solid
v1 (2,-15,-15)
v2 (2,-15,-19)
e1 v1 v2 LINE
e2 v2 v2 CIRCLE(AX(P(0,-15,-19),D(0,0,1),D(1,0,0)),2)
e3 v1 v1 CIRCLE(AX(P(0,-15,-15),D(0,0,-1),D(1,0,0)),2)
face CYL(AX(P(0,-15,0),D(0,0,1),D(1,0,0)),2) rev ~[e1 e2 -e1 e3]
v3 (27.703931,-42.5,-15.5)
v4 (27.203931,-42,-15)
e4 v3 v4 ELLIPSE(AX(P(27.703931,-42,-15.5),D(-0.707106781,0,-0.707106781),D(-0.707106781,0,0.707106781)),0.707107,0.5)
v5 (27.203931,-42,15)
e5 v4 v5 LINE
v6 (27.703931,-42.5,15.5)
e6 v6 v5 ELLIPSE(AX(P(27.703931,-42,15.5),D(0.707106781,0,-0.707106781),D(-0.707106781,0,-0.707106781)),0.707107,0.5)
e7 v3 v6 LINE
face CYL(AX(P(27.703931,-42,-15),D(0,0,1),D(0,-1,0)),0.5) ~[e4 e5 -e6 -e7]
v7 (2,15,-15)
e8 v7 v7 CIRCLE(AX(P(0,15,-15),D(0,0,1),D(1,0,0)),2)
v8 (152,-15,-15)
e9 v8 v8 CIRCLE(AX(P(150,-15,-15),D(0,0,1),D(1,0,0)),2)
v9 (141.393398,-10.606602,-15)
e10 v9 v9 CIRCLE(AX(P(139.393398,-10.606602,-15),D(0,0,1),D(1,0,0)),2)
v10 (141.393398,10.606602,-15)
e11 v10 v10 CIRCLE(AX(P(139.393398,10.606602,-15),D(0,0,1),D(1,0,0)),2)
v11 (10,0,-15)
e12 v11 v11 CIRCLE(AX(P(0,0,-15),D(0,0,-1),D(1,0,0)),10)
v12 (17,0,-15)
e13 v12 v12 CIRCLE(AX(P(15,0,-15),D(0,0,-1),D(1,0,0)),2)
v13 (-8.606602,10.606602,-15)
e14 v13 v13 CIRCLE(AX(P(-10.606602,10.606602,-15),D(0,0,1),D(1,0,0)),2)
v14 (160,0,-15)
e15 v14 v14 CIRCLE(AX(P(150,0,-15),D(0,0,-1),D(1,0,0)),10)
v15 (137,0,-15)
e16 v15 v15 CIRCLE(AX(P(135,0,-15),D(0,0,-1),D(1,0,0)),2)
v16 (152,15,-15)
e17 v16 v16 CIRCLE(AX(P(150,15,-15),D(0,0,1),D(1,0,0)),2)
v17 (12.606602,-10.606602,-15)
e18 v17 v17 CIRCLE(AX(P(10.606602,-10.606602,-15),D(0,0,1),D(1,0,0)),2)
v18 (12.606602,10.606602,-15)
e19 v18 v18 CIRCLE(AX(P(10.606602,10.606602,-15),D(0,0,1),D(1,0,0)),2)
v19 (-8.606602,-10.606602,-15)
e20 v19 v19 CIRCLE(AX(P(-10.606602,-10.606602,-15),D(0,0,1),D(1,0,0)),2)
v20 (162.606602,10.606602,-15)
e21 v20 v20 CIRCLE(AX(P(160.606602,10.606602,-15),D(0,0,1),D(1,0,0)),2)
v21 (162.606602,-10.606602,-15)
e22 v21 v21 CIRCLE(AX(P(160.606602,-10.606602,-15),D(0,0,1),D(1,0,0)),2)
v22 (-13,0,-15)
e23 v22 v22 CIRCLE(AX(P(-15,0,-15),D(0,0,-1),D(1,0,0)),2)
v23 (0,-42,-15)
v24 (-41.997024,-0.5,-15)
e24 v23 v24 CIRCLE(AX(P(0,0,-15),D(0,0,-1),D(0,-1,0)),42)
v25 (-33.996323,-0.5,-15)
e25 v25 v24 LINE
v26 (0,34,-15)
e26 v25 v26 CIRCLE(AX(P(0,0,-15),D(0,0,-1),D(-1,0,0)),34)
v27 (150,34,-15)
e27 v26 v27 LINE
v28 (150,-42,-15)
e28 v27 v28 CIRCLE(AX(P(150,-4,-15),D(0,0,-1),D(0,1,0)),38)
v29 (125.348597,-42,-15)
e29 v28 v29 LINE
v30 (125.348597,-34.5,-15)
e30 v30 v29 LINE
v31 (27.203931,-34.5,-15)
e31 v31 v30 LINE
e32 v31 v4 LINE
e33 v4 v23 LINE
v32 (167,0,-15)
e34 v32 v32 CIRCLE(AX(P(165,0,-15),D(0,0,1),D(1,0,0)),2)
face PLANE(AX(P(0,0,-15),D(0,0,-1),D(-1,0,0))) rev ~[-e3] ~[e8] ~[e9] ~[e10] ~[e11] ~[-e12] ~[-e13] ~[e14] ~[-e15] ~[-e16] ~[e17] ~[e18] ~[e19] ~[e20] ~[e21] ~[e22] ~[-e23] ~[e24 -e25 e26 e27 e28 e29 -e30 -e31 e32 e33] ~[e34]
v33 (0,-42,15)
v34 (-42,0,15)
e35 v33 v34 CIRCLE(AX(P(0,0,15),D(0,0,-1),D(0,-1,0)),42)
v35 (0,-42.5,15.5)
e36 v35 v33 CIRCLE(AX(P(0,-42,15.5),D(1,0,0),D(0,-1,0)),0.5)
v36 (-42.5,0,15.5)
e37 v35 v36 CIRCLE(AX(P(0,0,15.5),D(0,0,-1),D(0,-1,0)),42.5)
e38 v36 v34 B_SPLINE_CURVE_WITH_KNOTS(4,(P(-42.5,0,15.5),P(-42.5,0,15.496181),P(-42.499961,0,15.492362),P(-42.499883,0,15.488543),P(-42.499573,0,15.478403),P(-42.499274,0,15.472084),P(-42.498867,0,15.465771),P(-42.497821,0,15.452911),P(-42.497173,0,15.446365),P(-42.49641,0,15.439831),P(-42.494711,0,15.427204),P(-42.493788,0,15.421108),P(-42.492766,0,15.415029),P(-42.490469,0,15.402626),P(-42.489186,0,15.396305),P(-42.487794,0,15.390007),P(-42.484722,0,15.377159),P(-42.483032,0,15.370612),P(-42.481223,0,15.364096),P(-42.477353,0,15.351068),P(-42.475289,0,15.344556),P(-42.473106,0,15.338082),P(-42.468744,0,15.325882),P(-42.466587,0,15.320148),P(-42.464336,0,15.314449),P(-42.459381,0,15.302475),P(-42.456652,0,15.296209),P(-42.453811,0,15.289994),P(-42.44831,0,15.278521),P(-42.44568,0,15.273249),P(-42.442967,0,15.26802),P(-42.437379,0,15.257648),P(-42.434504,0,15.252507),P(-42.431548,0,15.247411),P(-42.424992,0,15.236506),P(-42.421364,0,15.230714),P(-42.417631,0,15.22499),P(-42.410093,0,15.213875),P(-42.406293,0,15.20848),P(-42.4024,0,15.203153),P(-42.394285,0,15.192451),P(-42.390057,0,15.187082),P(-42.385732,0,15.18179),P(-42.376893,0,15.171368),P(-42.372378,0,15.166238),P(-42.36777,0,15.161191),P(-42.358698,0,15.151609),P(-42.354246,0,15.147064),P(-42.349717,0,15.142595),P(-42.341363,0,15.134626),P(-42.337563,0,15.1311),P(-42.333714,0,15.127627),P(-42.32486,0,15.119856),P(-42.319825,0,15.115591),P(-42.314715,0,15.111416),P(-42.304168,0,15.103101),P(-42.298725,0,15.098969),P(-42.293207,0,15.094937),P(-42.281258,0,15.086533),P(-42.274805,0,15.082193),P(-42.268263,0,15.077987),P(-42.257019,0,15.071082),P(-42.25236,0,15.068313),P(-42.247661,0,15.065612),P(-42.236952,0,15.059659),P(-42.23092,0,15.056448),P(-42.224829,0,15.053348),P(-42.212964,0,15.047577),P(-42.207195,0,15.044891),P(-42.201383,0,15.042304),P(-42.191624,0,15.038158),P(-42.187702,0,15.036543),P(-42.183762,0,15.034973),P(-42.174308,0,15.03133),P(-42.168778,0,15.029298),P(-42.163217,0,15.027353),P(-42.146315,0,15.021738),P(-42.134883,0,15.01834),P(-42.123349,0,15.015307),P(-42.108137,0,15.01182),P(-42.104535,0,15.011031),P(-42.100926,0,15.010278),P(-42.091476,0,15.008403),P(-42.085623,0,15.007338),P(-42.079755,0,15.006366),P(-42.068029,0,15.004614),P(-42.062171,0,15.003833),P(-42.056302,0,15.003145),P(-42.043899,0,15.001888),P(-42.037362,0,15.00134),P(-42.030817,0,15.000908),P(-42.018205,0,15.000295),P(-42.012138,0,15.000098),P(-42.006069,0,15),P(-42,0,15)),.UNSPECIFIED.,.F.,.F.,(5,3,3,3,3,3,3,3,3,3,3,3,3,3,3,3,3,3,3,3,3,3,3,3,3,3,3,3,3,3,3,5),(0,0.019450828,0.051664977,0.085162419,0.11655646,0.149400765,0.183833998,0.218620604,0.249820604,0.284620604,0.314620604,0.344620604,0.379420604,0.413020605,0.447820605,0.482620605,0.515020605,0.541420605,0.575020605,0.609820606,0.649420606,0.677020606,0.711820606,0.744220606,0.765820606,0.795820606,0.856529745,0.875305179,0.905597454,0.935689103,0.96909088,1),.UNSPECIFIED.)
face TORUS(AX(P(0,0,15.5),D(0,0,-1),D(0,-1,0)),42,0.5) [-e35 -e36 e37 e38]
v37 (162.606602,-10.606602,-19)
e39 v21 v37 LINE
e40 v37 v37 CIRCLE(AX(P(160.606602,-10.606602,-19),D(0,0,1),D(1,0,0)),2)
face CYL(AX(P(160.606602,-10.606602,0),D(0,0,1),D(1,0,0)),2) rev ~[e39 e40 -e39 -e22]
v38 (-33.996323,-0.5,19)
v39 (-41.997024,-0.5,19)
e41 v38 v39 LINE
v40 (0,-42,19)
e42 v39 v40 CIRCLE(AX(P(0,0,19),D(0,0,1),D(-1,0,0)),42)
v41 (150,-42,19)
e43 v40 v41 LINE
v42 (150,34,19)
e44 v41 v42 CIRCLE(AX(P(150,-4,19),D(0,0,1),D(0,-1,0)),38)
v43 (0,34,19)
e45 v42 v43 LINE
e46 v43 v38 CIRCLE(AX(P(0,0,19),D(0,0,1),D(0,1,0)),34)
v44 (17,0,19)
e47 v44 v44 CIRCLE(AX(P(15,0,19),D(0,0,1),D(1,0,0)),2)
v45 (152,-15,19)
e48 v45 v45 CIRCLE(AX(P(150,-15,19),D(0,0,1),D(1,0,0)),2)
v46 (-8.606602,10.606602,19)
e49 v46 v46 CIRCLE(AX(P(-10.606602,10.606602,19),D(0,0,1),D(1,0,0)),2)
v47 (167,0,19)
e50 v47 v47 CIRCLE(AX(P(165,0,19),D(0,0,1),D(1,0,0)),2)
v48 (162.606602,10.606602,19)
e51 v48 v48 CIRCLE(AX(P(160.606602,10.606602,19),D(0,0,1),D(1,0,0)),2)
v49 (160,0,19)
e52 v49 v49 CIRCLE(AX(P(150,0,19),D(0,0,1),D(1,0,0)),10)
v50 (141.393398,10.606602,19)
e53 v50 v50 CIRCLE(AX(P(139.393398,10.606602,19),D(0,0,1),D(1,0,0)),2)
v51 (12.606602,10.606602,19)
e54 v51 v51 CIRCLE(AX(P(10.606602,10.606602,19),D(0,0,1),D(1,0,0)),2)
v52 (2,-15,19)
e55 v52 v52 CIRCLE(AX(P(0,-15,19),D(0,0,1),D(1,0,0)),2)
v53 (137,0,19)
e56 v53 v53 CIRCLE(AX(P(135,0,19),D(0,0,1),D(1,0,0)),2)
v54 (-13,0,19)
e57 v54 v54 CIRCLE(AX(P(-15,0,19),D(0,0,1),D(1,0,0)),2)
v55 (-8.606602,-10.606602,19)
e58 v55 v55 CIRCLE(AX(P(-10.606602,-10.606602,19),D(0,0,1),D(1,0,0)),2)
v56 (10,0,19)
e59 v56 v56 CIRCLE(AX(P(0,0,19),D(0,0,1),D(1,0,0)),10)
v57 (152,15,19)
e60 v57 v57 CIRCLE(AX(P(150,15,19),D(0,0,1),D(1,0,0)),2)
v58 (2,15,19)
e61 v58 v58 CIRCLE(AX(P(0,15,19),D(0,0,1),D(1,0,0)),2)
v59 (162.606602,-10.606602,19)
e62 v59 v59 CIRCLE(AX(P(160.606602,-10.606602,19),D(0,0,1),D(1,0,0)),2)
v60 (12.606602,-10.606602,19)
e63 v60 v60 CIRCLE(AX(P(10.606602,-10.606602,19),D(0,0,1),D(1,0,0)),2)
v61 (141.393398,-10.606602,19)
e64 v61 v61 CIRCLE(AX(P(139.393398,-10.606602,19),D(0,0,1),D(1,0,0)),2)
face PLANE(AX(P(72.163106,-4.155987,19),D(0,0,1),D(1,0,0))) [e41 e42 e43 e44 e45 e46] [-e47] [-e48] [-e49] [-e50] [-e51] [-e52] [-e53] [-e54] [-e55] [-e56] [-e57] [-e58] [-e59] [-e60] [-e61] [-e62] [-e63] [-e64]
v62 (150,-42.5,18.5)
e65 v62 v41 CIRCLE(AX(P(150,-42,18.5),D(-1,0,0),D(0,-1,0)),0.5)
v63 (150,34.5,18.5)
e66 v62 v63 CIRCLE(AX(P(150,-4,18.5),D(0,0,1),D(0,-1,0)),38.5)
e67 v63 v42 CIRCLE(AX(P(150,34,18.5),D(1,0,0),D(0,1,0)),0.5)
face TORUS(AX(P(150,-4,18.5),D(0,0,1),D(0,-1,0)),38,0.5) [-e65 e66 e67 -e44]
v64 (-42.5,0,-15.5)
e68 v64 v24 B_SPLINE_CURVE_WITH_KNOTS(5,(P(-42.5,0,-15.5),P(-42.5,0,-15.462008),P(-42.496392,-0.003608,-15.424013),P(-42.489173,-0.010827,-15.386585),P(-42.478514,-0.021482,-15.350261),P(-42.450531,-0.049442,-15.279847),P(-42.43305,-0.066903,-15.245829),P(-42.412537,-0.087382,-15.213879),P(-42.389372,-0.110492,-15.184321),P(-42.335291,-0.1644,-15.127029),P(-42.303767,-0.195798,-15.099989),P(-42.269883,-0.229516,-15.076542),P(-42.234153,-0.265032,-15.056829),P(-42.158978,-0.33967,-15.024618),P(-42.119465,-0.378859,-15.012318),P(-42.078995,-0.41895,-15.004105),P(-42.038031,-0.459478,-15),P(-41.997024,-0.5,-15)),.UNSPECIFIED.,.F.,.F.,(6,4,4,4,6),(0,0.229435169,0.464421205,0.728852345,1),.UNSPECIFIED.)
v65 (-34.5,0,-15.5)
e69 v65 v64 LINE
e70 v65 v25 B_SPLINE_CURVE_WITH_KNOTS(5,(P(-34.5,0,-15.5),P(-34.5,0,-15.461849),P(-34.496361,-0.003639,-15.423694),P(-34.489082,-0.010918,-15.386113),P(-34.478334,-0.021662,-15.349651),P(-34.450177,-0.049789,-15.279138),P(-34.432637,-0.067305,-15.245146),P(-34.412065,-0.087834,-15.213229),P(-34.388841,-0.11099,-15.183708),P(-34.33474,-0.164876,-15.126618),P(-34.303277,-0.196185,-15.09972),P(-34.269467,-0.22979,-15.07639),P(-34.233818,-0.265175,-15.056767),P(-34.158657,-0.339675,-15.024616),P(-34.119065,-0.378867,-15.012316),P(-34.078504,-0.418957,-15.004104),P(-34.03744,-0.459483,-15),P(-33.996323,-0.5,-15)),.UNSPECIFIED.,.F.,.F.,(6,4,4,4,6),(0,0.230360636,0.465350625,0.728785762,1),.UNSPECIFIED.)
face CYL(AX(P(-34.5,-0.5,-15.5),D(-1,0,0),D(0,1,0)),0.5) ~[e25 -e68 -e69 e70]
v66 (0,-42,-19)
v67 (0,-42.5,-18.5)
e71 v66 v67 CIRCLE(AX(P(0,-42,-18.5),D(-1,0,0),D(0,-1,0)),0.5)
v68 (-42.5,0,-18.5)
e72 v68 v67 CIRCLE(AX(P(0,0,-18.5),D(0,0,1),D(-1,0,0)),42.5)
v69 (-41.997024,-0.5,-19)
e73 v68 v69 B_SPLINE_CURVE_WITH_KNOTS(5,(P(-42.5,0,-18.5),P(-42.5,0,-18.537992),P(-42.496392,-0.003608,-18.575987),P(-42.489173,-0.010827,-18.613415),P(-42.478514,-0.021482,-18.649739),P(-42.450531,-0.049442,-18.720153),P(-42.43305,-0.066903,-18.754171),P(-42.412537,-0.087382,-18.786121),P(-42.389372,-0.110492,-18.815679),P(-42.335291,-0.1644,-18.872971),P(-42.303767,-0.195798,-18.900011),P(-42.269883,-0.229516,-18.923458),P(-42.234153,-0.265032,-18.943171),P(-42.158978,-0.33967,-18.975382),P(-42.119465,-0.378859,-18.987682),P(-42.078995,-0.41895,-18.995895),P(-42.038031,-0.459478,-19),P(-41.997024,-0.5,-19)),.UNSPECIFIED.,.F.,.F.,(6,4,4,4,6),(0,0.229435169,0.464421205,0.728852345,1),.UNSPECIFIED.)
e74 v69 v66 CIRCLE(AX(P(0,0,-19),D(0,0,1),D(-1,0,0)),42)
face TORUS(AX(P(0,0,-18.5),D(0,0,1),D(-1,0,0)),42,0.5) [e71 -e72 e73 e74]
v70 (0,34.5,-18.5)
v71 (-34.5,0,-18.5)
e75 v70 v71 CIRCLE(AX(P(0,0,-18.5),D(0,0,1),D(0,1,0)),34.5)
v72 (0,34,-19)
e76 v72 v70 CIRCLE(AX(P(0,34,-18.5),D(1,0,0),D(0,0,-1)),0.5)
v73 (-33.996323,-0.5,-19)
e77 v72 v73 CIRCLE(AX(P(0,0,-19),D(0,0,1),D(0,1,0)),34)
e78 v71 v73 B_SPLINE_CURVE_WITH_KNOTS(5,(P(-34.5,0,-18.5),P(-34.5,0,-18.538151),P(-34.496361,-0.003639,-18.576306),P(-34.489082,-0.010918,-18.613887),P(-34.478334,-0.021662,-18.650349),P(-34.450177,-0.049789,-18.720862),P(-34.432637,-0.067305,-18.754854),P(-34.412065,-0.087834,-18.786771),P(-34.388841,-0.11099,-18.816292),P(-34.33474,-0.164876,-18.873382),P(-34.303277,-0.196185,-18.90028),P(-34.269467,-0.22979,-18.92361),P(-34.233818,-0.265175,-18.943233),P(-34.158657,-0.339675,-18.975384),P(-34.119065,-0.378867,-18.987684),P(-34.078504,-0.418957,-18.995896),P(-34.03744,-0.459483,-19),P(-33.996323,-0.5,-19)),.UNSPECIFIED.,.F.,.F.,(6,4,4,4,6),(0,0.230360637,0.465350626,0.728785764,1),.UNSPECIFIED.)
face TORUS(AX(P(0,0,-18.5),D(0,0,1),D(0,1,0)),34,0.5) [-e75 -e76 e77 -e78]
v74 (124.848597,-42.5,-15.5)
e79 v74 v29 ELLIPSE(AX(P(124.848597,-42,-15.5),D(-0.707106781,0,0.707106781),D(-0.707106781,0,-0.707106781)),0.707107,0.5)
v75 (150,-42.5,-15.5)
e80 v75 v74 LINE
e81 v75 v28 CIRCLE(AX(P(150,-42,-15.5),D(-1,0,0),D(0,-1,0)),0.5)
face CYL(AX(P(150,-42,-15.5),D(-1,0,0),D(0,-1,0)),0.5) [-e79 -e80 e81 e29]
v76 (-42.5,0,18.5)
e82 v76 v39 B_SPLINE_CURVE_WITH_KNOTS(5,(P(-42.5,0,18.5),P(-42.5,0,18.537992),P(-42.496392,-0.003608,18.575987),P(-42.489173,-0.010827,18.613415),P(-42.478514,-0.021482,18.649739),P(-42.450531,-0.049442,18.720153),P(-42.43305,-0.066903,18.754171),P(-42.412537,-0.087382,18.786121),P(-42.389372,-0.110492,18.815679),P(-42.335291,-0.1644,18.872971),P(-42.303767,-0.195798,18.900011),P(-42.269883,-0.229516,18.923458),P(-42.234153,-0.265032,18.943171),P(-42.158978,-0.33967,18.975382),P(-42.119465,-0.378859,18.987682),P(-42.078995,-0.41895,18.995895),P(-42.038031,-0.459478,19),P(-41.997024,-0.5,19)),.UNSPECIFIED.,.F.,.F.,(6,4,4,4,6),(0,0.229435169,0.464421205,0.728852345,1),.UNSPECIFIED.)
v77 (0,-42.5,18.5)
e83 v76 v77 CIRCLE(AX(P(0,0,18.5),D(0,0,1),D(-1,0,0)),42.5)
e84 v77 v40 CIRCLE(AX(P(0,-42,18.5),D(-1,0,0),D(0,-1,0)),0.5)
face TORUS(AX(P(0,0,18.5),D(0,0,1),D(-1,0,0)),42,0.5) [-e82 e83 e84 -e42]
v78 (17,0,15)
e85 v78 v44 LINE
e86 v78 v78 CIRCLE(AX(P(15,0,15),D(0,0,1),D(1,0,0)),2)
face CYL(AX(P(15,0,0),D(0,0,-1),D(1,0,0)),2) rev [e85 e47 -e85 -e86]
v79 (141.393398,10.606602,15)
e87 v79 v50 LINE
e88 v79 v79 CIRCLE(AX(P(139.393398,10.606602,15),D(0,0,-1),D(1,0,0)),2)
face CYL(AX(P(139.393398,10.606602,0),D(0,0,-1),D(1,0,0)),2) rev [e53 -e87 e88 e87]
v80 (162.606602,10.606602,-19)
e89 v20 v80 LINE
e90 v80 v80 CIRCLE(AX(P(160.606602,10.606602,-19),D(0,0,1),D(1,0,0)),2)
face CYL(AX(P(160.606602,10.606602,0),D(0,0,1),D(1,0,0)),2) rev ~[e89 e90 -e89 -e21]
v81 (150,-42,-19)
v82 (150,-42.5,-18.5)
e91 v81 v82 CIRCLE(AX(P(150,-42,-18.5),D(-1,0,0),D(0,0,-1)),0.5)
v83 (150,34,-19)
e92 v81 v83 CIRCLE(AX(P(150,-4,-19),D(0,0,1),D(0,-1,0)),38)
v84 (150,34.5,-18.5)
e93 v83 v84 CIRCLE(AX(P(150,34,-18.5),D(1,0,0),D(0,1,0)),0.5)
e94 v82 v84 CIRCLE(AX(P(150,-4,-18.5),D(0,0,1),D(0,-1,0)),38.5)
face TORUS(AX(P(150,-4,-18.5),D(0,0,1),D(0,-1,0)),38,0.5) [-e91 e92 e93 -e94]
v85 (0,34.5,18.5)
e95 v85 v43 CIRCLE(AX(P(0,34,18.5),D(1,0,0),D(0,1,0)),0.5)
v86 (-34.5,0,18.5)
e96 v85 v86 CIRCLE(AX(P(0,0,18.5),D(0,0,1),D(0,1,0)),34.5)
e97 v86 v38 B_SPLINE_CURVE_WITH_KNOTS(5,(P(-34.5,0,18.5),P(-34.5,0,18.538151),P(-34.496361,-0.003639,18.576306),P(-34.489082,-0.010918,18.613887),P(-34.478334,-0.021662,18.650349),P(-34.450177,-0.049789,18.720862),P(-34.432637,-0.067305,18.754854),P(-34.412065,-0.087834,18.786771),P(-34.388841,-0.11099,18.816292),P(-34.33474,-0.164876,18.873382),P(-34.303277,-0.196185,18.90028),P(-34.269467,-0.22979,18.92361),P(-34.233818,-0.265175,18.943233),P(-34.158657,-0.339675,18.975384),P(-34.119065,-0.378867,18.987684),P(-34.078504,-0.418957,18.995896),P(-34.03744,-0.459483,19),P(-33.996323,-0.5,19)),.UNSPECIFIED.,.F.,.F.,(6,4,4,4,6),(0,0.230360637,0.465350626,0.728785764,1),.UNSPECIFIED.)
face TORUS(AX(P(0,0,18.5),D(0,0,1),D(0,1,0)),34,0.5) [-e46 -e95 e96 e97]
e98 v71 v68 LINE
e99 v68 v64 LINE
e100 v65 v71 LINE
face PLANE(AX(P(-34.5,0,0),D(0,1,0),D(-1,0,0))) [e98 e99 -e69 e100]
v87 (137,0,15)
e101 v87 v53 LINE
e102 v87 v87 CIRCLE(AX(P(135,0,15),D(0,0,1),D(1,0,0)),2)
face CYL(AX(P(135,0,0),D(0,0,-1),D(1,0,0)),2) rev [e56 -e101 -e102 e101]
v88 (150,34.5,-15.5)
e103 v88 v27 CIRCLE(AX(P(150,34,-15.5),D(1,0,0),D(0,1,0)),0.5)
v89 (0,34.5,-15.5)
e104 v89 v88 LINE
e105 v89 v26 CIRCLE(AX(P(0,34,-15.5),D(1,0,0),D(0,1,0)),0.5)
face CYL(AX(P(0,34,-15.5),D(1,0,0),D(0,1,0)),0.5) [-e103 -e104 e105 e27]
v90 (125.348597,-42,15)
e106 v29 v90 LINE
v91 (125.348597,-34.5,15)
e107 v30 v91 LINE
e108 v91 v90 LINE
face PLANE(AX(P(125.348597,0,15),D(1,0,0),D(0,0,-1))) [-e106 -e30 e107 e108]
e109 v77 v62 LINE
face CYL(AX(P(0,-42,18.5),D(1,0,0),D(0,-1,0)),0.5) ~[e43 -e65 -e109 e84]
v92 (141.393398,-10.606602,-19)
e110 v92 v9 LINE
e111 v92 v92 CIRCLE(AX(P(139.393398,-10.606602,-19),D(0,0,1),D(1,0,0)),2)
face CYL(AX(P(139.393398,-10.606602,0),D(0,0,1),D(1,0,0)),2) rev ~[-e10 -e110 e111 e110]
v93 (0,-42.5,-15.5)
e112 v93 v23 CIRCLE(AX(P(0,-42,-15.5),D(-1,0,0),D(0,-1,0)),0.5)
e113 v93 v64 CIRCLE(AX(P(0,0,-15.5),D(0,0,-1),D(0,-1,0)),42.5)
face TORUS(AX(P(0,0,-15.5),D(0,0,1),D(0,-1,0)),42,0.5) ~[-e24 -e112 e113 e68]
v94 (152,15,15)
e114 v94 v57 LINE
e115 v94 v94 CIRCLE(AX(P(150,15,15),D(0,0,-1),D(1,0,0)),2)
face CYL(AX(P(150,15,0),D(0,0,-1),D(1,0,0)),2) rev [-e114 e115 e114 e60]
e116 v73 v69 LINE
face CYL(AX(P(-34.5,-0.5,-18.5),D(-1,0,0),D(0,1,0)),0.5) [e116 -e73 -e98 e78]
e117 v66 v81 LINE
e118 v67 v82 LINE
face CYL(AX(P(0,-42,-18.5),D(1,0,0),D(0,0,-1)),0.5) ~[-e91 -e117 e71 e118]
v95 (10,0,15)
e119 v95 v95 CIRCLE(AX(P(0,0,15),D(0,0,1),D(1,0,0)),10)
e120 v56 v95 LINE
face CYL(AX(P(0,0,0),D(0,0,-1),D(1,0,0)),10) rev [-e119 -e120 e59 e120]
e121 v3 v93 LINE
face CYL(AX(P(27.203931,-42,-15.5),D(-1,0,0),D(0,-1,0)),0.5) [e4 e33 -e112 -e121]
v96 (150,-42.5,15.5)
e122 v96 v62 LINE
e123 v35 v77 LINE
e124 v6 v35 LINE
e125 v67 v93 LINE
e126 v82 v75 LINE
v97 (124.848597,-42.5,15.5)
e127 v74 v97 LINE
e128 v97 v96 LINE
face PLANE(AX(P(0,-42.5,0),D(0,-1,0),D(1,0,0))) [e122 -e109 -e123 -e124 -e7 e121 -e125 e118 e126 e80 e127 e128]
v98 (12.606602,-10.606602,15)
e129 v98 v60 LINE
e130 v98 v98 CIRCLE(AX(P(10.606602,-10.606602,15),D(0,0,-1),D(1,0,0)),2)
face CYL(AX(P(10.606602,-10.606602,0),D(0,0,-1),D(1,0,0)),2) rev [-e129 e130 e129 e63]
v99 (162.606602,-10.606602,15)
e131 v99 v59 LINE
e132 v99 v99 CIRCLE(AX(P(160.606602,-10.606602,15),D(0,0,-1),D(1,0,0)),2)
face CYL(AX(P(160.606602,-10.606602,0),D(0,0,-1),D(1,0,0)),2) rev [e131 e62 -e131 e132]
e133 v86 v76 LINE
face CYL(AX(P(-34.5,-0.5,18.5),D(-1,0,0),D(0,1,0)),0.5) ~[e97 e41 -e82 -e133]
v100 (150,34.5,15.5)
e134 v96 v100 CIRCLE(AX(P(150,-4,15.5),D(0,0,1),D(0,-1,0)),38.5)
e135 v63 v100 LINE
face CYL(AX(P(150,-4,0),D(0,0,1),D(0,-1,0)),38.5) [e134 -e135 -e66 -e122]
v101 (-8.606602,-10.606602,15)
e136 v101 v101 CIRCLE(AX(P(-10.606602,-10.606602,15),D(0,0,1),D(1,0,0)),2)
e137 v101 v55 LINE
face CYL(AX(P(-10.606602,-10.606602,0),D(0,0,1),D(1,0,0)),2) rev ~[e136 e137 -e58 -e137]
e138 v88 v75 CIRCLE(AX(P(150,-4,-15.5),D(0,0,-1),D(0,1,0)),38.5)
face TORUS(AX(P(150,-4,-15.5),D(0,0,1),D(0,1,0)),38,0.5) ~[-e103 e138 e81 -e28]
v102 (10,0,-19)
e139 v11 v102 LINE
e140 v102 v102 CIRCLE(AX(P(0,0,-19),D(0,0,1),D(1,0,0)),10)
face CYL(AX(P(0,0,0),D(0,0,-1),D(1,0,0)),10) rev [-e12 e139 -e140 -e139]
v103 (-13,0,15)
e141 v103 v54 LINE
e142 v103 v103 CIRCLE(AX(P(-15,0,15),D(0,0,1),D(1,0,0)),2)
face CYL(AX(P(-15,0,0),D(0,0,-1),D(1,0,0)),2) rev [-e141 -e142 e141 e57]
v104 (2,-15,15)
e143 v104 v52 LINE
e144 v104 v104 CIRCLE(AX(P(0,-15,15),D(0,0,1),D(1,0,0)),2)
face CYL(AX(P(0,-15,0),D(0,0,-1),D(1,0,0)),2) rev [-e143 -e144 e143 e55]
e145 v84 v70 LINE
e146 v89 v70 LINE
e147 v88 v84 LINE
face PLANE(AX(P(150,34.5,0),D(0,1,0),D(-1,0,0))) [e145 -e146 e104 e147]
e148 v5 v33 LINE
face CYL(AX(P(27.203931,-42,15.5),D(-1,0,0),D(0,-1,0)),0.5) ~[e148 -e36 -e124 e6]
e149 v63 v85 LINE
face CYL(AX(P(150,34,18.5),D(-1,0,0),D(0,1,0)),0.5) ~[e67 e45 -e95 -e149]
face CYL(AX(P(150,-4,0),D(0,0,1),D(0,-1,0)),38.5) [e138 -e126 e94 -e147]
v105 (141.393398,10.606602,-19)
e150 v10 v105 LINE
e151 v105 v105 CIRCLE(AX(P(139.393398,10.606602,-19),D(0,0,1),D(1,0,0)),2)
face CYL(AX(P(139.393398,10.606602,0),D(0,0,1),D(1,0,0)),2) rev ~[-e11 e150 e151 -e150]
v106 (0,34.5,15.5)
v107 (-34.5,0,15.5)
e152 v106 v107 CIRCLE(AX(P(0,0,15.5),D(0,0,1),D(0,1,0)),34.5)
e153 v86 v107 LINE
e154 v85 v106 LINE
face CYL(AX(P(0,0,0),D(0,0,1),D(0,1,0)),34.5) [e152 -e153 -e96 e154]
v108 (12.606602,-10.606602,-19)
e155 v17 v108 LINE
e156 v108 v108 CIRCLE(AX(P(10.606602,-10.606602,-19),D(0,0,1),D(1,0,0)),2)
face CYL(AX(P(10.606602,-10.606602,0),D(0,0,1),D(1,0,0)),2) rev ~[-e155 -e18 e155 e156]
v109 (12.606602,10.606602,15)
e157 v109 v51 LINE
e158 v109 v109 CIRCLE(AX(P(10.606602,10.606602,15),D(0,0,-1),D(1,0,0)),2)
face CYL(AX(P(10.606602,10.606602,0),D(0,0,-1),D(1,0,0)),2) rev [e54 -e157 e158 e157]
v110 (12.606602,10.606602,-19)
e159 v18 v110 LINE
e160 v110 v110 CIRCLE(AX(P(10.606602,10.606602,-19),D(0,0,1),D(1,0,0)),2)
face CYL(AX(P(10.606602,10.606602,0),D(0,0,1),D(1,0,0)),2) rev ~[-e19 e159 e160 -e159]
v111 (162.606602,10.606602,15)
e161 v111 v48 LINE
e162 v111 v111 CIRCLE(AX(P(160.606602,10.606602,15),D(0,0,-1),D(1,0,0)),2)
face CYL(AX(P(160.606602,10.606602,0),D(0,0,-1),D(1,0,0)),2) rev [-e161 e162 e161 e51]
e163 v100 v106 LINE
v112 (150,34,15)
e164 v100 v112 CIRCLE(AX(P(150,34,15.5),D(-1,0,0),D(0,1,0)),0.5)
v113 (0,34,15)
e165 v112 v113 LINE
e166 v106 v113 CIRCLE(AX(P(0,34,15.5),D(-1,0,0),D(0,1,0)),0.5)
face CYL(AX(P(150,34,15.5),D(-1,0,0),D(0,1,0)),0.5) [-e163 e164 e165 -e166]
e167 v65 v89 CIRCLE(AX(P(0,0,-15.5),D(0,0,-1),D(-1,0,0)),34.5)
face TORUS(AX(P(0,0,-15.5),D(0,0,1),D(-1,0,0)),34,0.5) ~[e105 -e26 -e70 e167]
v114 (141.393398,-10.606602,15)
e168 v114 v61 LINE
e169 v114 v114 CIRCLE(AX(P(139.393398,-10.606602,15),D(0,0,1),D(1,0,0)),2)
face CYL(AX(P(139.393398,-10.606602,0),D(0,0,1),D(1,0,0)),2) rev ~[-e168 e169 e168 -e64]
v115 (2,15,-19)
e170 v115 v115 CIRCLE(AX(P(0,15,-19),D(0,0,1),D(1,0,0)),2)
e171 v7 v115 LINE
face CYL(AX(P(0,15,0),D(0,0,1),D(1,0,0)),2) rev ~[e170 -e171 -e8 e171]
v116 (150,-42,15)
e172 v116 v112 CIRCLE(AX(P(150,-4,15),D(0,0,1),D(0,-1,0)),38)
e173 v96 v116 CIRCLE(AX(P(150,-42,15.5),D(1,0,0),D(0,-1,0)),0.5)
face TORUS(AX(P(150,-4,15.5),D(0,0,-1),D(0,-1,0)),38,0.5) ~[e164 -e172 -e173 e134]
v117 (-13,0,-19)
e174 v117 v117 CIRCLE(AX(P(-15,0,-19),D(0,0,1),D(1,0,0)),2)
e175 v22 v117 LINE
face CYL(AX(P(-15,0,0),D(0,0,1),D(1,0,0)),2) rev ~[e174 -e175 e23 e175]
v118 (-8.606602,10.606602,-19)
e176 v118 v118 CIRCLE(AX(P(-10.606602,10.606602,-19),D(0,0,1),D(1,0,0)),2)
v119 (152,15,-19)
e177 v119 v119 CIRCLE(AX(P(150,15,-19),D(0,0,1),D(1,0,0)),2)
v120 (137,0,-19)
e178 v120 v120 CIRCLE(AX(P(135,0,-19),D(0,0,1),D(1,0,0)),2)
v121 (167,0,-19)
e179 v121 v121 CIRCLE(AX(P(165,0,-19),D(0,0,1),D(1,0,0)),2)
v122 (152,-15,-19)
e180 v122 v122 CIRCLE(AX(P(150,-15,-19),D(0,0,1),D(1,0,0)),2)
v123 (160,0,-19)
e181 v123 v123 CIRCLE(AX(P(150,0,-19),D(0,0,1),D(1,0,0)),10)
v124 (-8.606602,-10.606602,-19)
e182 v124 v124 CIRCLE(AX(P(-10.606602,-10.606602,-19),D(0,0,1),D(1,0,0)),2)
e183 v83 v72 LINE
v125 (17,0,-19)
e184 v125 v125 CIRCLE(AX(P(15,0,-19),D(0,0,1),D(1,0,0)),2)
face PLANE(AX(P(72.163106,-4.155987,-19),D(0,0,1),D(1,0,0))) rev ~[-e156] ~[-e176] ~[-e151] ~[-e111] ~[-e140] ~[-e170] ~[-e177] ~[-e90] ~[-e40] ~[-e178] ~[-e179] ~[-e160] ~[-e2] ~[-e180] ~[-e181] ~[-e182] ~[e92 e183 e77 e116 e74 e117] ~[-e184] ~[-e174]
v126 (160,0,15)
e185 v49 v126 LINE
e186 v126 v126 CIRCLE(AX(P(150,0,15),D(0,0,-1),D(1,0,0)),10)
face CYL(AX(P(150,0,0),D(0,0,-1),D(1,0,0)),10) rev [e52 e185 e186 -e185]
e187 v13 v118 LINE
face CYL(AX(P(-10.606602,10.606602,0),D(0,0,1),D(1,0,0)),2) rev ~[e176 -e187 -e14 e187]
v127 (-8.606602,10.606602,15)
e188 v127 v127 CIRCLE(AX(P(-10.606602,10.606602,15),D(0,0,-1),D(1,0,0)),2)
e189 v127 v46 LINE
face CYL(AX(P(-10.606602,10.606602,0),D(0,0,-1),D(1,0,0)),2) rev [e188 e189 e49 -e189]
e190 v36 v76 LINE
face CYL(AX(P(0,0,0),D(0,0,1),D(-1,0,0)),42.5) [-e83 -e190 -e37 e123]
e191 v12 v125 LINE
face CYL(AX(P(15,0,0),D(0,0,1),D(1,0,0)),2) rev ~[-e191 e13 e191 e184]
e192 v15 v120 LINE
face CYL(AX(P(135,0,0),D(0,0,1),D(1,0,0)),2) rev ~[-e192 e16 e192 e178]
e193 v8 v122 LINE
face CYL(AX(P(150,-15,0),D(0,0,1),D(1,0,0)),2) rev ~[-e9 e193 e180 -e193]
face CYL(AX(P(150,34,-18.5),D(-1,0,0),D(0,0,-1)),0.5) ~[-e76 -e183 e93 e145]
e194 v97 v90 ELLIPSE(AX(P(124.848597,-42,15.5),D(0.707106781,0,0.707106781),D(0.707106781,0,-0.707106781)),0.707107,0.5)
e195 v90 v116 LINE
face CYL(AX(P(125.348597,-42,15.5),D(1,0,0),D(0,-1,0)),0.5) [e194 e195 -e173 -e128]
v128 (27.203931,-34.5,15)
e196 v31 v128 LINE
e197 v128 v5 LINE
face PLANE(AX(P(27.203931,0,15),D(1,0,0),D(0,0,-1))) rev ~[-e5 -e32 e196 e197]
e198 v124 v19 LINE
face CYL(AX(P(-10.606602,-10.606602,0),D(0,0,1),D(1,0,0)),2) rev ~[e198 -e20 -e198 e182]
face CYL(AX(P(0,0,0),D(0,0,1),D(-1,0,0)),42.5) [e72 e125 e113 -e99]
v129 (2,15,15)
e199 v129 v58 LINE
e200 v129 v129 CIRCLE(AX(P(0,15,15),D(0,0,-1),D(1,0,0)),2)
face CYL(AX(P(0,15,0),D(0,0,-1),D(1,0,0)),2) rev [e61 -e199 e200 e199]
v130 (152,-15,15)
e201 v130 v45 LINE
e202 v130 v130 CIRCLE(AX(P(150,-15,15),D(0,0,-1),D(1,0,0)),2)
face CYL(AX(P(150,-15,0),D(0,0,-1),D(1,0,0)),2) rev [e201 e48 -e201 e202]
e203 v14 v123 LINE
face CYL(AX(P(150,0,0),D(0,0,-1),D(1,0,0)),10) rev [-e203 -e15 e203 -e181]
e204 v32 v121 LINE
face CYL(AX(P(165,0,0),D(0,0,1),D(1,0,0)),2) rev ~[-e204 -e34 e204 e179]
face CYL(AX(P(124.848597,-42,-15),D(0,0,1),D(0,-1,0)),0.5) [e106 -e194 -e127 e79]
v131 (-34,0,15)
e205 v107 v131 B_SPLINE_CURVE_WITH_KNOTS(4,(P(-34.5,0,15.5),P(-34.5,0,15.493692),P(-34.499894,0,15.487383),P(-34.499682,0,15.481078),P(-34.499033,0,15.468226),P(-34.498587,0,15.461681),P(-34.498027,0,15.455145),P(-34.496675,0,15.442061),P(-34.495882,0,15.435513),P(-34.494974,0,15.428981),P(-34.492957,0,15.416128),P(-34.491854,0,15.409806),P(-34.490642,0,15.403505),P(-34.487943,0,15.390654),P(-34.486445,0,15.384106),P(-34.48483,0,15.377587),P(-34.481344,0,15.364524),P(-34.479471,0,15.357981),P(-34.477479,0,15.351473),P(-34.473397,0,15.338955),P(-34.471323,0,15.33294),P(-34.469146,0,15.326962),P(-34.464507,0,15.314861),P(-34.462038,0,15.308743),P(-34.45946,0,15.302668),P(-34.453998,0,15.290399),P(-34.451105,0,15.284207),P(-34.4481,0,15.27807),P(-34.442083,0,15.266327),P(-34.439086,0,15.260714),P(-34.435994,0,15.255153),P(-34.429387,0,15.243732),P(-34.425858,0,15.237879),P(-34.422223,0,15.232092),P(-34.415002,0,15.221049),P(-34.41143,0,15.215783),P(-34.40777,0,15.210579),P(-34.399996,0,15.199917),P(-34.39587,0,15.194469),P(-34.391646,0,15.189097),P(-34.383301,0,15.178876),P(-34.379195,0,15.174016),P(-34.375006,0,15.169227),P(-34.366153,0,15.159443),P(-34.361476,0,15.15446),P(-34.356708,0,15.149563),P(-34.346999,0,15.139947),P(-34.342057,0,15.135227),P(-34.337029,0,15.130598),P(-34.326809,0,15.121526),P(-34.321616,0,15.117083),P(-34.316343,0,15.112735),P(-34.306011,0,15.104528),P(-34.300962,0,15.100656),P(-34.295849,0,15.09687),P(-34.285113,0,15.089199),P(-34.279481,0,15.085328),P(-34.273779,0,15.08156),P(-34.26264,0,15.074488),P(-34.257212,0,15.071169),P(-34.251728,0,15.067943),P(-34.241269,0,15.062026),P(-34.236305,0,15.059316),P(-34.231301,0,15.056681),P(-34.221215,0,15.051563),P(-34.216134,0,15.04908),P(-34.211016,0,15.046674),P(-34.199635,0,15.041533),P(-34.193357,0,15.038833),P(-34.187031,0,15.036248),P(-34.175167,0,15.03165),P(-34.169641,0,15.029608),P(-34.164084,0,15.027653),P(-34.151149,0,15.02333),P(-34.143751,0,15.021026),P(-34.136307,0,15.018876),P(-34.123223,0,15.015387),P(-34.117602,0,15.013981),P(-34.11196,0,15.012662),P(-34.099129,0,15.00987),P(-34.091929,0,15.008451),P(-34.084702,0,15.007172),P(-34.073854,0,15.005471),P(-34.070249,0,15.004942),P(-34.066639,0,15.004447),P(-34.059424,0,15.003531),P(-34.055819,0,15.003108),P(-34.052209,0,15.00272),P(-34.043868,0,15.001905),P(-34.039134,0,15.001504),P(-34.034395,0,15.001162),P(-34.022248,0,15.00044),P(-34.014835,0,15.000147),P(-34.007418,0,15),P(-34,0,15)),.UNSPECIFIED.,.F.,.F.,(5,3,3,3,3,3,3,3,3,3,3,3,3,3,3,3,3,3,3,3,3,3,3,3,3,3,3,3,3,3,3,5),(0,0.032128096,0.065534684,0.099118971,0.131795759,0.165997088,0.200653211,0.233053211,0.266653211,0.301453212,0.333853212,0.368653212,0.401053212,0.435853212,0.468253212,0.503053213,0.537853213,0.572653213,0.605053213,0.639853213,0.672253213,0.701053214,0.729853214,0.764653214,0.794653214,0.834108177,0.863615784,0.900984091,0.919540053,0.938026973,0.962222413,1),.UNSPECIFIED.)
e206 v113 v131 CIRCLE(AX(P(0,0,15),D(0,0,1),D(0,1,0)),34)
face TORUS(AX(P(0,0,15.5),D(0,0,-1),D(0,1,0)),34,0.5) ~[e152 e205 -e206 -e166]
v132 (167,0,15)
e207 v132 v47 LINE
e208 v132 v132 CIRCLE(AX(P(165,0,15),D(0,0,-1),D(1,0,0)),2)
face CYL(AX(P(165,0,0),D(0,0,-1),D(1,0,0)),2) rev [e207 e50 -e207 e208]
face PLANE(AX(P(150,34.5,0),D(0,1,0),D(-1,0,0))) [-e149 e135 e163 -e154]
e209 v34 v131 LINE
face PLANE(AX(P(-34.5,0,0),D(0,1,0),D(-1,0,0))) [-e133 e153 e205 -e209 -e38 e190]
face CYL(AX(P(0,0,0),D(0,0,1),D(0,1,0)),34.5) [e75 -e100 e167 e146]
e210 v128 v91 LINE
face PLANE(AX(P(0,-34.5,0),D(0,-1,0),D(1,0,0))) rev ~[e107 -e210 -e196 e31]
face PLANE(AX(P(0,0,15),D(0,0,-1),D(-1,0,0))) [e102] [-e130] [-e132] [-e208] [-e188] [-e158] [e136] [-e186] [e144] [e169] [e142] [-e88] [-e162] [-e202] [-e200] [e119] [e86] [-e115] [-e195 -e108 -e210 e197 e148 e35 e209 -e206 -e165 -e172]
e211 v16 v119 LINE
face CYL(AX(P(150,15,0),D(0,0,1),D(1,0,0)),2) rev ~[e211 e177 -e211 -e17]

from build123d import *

# Parameters (mm, degrees)
SKETCH_1_R          = 10
EXTRUDE_1_DEPTH     = 19
CUT_EXTRUDE_2_DEPTH = 15
SKETCH_3_R          = 2
CUT_EXTRUDE_3_DEPTH = 19
SKETCH_4_R          = 2
CUT_EXTRUDE_4_DEPTH = 19
CUT_EXTRUDE_5_DEPTH = 42.5
CUT_EXTRUDE_6_DEPTH = 100
SKETCH_9_W          = 27.203931148
SKETCH_9_H          = 30
CUT_EXTRUDE_7_DEPTH = 100
SKETCH_10_W         = 9.651402854
SKETCH_10_H         = 30
CUT_EXTRUDE_8_DEPTH = 100
FILLET_1_R          = 0.5


with BuildPart() as part:
    # 草图1 → 凸台-拉伸1 (new, symmetric)
    with BuildSketch(Plane.XY):
        with BuildLine():
            Line((-34.5, 0), (-42.5, 0))
            ThreePointArc((-42.5, 0), (-30.0520382, -30.0520382), (0, -42.5))
            Line((0, -42.5), (150, -42.5))
            ThreePointArc((150, -42.5), (188.5, -4), (150, 34.5))
            Line((150, 34.5), (0, 34.5))
            ThreePointArc((0, 34.5), (-24.395183951, 24.395183951), (-34.5, 0))
        make_face()
        Circle(SKETCH_1_R, mode=Mode.SUBTRACT)
        with Locations((150, 0)):
            Circle(SKETCH_1_R, mode=Mode.SUBTRACT)
    extrude(amount=EXTRUDE_1_DEPTH, both=True)

    # 草图2 → 切除-拉伸2 (cut, symmetric)
    with BuildSketch(Plane.XY):
        with BuildLine():
            Line((0, -34.5), (150, -34.5))
            ThreePointArc((150, -34.5), (184.5, 0), (150, 34.5))
            Line((150, 34.5), (0, 34.5))
            ThreePointArc((0, 34.5), (-34.5, 0), (0, -34.5))
        make_face()
    extrude(amount=CUT_EXTRUDE_2_DEPTH, both=True, mode=Mode.SUBTRACT)

    # 草图3 → 切除-拉伸3 (cut, symmetric)
    with BuildSketch(Plane.XY):
        with Locations((-15, 0)):
            Circle(SKETCH_3_R)
        with Locations((-10.606601718, 10.606601718)):
            Circle(SKETCH_3_R)
        with Locations((0, 15)):
            Circle(SKETCH_3_R)
        with Locations((10.606601718, 10.606601718)):
            Circle(SKETCH_3_R)
        with Locations((15, 0)):
            Circle(SKETCH_3_R)
        with Locations((10.606601718, -10.606601718)):
            Circle(SKETCH_3_R)
        with Locations((0, -15)):
            Circle(SKETCH_3_R)
        with Locations((-10.606601718, -10.606601718)):
            Circle(SKETCH_3_R)
    extrude(amount=CUT_EXTRUDE_3_DEPTH, both=True, mode=Mode.SUBTRACT)

    # 草图4 → 切除-拉伸4 (cut, symmetric)
    with BuildSketch(Plane.XY):
        with Locations((135, 0)):
            Circle(SKETCH_4_R)
        with Locations((139.393398282, 10.606601718)):
            Circle(SKETCH_4_R)
        with Locations((150, 15)):
            Circle(SKETCH_4_R)
        with Locations((160.606601718, 10.606601718)):
            Circle(SKETCH_4_R)
        with Locations((165, 0)):
            Circle(SKETCH_4_R)
        with Locations((160.606601718, -10.606601718)):
            Circle(SKETCH_4_R)
        with Locations((150, -15)):
            Circle(SKETCH_4_R)
        with Locations((139.393398282, -10.606601718)):
            Circle(SKETCH_4_R)
    extrude(amount=CUT_EXTRUDE_4_DEPTH, both=True, mode=Mode.SUBTRACT)

    # 草图5 → 切除-拉伸5 (cut, symmetric)
    with BuildSketch(Plane(origin=(0, 0, 0), x_dir=(1, 0, 0), z_dir=(0, 1, 0))):
        Polygon((150, -15), (188.5, -15), (188.5, 15), (150, 15), (135, 15), (135, -15), (149.638400331, -15), align=None)
    extrude(amount=CUT_EXTRUDE_5_DEPTH, both=True, mode=Mode.SUBTRACT)

    # 草图8 → 切除-拉伸6 (cut)
    with BuildSketch(Plane(origin=(0, 0, 0), x_dir=(1, 0, 0), z_dir=(0, 1, 0))):
        Polygon((0, 15), (0, -15), (-42.5, -15), (-42.5, 15), (-34.5, 15), align=None)
    extrude(amount=-CUT_EXTRUDE_6_DEPTH, mode=Mode.SUBTRACT)

    # 草图9 → 切除-拉伸7 (cut)
    with BuildSketch(Plane(origin=(0, 0, 0), x_dir=(1, 0, 0), z_dir=(0, 1, 0))):
        with Locations((13.601965574, 0)):
            Rectangle(SKETCH_9_W, SKETCH_9_H)
    extrude(amount=-CUT_EXTRUDE_7_DEPTH, mode=Mode.SUBTRACT)

    # 草图10 → 切除-拉伸8 (cut)
    with BuildSketch(Plane(origin=(0, 0, 0), x_dir=(1, 0, 0), z_dir=(0, 1, 0))):
        with Locations((130.174298573, 0)):
            Rectangle(SKETCH_10_W, SKETCH_10_H)
    extrude(amount=-CUT_EXTRUDE_8_DEPTH, mode=Mode.SUBTRACT)

    # 圆角1
    fillet_1_edges = [part.edges().sort_by_distance(p)[0] for p in [
        (-38.5, 0, -19),
        (-24.395183951, 24.395183951, -19),
        (75, 34.5, -19),
        (188.5, -4, -19),
        (75, -42.5, -19),
        (-30.0520382, -30.0520382, -19),
        (75, -42.5, 19),
        (188.5, -4, 19),
        (188.5, -4, 15),
        (13.601965574, -42.5, 15),
        (188.5, -4, -15),
        (13.601965574, -42.5, -15),
        (75, 34.5, 19),
        (-24.395183951, 24.395183951, 19),
        (-38.5, 0, -15),
        (-30.0520382, -30.0520382, 15),
        (-30.0520382, -30.0520382, -15),
        (-38.5, 0, 19),
        (-24.395183951, 24.395183951, -15),
        (75, 34.5, -15),
        (-24.395183951, 24.395183951, 15),
        (27.203931148, -42.5, 0),
        (75, 34.5, 15),
        (125.348597146, -42.5, 0),
        (-30.0520382, -30.0520382, 19),
    ]]
    fillet(fillet_1_edges, radius=FILLET_1_R)


solid = part.part
